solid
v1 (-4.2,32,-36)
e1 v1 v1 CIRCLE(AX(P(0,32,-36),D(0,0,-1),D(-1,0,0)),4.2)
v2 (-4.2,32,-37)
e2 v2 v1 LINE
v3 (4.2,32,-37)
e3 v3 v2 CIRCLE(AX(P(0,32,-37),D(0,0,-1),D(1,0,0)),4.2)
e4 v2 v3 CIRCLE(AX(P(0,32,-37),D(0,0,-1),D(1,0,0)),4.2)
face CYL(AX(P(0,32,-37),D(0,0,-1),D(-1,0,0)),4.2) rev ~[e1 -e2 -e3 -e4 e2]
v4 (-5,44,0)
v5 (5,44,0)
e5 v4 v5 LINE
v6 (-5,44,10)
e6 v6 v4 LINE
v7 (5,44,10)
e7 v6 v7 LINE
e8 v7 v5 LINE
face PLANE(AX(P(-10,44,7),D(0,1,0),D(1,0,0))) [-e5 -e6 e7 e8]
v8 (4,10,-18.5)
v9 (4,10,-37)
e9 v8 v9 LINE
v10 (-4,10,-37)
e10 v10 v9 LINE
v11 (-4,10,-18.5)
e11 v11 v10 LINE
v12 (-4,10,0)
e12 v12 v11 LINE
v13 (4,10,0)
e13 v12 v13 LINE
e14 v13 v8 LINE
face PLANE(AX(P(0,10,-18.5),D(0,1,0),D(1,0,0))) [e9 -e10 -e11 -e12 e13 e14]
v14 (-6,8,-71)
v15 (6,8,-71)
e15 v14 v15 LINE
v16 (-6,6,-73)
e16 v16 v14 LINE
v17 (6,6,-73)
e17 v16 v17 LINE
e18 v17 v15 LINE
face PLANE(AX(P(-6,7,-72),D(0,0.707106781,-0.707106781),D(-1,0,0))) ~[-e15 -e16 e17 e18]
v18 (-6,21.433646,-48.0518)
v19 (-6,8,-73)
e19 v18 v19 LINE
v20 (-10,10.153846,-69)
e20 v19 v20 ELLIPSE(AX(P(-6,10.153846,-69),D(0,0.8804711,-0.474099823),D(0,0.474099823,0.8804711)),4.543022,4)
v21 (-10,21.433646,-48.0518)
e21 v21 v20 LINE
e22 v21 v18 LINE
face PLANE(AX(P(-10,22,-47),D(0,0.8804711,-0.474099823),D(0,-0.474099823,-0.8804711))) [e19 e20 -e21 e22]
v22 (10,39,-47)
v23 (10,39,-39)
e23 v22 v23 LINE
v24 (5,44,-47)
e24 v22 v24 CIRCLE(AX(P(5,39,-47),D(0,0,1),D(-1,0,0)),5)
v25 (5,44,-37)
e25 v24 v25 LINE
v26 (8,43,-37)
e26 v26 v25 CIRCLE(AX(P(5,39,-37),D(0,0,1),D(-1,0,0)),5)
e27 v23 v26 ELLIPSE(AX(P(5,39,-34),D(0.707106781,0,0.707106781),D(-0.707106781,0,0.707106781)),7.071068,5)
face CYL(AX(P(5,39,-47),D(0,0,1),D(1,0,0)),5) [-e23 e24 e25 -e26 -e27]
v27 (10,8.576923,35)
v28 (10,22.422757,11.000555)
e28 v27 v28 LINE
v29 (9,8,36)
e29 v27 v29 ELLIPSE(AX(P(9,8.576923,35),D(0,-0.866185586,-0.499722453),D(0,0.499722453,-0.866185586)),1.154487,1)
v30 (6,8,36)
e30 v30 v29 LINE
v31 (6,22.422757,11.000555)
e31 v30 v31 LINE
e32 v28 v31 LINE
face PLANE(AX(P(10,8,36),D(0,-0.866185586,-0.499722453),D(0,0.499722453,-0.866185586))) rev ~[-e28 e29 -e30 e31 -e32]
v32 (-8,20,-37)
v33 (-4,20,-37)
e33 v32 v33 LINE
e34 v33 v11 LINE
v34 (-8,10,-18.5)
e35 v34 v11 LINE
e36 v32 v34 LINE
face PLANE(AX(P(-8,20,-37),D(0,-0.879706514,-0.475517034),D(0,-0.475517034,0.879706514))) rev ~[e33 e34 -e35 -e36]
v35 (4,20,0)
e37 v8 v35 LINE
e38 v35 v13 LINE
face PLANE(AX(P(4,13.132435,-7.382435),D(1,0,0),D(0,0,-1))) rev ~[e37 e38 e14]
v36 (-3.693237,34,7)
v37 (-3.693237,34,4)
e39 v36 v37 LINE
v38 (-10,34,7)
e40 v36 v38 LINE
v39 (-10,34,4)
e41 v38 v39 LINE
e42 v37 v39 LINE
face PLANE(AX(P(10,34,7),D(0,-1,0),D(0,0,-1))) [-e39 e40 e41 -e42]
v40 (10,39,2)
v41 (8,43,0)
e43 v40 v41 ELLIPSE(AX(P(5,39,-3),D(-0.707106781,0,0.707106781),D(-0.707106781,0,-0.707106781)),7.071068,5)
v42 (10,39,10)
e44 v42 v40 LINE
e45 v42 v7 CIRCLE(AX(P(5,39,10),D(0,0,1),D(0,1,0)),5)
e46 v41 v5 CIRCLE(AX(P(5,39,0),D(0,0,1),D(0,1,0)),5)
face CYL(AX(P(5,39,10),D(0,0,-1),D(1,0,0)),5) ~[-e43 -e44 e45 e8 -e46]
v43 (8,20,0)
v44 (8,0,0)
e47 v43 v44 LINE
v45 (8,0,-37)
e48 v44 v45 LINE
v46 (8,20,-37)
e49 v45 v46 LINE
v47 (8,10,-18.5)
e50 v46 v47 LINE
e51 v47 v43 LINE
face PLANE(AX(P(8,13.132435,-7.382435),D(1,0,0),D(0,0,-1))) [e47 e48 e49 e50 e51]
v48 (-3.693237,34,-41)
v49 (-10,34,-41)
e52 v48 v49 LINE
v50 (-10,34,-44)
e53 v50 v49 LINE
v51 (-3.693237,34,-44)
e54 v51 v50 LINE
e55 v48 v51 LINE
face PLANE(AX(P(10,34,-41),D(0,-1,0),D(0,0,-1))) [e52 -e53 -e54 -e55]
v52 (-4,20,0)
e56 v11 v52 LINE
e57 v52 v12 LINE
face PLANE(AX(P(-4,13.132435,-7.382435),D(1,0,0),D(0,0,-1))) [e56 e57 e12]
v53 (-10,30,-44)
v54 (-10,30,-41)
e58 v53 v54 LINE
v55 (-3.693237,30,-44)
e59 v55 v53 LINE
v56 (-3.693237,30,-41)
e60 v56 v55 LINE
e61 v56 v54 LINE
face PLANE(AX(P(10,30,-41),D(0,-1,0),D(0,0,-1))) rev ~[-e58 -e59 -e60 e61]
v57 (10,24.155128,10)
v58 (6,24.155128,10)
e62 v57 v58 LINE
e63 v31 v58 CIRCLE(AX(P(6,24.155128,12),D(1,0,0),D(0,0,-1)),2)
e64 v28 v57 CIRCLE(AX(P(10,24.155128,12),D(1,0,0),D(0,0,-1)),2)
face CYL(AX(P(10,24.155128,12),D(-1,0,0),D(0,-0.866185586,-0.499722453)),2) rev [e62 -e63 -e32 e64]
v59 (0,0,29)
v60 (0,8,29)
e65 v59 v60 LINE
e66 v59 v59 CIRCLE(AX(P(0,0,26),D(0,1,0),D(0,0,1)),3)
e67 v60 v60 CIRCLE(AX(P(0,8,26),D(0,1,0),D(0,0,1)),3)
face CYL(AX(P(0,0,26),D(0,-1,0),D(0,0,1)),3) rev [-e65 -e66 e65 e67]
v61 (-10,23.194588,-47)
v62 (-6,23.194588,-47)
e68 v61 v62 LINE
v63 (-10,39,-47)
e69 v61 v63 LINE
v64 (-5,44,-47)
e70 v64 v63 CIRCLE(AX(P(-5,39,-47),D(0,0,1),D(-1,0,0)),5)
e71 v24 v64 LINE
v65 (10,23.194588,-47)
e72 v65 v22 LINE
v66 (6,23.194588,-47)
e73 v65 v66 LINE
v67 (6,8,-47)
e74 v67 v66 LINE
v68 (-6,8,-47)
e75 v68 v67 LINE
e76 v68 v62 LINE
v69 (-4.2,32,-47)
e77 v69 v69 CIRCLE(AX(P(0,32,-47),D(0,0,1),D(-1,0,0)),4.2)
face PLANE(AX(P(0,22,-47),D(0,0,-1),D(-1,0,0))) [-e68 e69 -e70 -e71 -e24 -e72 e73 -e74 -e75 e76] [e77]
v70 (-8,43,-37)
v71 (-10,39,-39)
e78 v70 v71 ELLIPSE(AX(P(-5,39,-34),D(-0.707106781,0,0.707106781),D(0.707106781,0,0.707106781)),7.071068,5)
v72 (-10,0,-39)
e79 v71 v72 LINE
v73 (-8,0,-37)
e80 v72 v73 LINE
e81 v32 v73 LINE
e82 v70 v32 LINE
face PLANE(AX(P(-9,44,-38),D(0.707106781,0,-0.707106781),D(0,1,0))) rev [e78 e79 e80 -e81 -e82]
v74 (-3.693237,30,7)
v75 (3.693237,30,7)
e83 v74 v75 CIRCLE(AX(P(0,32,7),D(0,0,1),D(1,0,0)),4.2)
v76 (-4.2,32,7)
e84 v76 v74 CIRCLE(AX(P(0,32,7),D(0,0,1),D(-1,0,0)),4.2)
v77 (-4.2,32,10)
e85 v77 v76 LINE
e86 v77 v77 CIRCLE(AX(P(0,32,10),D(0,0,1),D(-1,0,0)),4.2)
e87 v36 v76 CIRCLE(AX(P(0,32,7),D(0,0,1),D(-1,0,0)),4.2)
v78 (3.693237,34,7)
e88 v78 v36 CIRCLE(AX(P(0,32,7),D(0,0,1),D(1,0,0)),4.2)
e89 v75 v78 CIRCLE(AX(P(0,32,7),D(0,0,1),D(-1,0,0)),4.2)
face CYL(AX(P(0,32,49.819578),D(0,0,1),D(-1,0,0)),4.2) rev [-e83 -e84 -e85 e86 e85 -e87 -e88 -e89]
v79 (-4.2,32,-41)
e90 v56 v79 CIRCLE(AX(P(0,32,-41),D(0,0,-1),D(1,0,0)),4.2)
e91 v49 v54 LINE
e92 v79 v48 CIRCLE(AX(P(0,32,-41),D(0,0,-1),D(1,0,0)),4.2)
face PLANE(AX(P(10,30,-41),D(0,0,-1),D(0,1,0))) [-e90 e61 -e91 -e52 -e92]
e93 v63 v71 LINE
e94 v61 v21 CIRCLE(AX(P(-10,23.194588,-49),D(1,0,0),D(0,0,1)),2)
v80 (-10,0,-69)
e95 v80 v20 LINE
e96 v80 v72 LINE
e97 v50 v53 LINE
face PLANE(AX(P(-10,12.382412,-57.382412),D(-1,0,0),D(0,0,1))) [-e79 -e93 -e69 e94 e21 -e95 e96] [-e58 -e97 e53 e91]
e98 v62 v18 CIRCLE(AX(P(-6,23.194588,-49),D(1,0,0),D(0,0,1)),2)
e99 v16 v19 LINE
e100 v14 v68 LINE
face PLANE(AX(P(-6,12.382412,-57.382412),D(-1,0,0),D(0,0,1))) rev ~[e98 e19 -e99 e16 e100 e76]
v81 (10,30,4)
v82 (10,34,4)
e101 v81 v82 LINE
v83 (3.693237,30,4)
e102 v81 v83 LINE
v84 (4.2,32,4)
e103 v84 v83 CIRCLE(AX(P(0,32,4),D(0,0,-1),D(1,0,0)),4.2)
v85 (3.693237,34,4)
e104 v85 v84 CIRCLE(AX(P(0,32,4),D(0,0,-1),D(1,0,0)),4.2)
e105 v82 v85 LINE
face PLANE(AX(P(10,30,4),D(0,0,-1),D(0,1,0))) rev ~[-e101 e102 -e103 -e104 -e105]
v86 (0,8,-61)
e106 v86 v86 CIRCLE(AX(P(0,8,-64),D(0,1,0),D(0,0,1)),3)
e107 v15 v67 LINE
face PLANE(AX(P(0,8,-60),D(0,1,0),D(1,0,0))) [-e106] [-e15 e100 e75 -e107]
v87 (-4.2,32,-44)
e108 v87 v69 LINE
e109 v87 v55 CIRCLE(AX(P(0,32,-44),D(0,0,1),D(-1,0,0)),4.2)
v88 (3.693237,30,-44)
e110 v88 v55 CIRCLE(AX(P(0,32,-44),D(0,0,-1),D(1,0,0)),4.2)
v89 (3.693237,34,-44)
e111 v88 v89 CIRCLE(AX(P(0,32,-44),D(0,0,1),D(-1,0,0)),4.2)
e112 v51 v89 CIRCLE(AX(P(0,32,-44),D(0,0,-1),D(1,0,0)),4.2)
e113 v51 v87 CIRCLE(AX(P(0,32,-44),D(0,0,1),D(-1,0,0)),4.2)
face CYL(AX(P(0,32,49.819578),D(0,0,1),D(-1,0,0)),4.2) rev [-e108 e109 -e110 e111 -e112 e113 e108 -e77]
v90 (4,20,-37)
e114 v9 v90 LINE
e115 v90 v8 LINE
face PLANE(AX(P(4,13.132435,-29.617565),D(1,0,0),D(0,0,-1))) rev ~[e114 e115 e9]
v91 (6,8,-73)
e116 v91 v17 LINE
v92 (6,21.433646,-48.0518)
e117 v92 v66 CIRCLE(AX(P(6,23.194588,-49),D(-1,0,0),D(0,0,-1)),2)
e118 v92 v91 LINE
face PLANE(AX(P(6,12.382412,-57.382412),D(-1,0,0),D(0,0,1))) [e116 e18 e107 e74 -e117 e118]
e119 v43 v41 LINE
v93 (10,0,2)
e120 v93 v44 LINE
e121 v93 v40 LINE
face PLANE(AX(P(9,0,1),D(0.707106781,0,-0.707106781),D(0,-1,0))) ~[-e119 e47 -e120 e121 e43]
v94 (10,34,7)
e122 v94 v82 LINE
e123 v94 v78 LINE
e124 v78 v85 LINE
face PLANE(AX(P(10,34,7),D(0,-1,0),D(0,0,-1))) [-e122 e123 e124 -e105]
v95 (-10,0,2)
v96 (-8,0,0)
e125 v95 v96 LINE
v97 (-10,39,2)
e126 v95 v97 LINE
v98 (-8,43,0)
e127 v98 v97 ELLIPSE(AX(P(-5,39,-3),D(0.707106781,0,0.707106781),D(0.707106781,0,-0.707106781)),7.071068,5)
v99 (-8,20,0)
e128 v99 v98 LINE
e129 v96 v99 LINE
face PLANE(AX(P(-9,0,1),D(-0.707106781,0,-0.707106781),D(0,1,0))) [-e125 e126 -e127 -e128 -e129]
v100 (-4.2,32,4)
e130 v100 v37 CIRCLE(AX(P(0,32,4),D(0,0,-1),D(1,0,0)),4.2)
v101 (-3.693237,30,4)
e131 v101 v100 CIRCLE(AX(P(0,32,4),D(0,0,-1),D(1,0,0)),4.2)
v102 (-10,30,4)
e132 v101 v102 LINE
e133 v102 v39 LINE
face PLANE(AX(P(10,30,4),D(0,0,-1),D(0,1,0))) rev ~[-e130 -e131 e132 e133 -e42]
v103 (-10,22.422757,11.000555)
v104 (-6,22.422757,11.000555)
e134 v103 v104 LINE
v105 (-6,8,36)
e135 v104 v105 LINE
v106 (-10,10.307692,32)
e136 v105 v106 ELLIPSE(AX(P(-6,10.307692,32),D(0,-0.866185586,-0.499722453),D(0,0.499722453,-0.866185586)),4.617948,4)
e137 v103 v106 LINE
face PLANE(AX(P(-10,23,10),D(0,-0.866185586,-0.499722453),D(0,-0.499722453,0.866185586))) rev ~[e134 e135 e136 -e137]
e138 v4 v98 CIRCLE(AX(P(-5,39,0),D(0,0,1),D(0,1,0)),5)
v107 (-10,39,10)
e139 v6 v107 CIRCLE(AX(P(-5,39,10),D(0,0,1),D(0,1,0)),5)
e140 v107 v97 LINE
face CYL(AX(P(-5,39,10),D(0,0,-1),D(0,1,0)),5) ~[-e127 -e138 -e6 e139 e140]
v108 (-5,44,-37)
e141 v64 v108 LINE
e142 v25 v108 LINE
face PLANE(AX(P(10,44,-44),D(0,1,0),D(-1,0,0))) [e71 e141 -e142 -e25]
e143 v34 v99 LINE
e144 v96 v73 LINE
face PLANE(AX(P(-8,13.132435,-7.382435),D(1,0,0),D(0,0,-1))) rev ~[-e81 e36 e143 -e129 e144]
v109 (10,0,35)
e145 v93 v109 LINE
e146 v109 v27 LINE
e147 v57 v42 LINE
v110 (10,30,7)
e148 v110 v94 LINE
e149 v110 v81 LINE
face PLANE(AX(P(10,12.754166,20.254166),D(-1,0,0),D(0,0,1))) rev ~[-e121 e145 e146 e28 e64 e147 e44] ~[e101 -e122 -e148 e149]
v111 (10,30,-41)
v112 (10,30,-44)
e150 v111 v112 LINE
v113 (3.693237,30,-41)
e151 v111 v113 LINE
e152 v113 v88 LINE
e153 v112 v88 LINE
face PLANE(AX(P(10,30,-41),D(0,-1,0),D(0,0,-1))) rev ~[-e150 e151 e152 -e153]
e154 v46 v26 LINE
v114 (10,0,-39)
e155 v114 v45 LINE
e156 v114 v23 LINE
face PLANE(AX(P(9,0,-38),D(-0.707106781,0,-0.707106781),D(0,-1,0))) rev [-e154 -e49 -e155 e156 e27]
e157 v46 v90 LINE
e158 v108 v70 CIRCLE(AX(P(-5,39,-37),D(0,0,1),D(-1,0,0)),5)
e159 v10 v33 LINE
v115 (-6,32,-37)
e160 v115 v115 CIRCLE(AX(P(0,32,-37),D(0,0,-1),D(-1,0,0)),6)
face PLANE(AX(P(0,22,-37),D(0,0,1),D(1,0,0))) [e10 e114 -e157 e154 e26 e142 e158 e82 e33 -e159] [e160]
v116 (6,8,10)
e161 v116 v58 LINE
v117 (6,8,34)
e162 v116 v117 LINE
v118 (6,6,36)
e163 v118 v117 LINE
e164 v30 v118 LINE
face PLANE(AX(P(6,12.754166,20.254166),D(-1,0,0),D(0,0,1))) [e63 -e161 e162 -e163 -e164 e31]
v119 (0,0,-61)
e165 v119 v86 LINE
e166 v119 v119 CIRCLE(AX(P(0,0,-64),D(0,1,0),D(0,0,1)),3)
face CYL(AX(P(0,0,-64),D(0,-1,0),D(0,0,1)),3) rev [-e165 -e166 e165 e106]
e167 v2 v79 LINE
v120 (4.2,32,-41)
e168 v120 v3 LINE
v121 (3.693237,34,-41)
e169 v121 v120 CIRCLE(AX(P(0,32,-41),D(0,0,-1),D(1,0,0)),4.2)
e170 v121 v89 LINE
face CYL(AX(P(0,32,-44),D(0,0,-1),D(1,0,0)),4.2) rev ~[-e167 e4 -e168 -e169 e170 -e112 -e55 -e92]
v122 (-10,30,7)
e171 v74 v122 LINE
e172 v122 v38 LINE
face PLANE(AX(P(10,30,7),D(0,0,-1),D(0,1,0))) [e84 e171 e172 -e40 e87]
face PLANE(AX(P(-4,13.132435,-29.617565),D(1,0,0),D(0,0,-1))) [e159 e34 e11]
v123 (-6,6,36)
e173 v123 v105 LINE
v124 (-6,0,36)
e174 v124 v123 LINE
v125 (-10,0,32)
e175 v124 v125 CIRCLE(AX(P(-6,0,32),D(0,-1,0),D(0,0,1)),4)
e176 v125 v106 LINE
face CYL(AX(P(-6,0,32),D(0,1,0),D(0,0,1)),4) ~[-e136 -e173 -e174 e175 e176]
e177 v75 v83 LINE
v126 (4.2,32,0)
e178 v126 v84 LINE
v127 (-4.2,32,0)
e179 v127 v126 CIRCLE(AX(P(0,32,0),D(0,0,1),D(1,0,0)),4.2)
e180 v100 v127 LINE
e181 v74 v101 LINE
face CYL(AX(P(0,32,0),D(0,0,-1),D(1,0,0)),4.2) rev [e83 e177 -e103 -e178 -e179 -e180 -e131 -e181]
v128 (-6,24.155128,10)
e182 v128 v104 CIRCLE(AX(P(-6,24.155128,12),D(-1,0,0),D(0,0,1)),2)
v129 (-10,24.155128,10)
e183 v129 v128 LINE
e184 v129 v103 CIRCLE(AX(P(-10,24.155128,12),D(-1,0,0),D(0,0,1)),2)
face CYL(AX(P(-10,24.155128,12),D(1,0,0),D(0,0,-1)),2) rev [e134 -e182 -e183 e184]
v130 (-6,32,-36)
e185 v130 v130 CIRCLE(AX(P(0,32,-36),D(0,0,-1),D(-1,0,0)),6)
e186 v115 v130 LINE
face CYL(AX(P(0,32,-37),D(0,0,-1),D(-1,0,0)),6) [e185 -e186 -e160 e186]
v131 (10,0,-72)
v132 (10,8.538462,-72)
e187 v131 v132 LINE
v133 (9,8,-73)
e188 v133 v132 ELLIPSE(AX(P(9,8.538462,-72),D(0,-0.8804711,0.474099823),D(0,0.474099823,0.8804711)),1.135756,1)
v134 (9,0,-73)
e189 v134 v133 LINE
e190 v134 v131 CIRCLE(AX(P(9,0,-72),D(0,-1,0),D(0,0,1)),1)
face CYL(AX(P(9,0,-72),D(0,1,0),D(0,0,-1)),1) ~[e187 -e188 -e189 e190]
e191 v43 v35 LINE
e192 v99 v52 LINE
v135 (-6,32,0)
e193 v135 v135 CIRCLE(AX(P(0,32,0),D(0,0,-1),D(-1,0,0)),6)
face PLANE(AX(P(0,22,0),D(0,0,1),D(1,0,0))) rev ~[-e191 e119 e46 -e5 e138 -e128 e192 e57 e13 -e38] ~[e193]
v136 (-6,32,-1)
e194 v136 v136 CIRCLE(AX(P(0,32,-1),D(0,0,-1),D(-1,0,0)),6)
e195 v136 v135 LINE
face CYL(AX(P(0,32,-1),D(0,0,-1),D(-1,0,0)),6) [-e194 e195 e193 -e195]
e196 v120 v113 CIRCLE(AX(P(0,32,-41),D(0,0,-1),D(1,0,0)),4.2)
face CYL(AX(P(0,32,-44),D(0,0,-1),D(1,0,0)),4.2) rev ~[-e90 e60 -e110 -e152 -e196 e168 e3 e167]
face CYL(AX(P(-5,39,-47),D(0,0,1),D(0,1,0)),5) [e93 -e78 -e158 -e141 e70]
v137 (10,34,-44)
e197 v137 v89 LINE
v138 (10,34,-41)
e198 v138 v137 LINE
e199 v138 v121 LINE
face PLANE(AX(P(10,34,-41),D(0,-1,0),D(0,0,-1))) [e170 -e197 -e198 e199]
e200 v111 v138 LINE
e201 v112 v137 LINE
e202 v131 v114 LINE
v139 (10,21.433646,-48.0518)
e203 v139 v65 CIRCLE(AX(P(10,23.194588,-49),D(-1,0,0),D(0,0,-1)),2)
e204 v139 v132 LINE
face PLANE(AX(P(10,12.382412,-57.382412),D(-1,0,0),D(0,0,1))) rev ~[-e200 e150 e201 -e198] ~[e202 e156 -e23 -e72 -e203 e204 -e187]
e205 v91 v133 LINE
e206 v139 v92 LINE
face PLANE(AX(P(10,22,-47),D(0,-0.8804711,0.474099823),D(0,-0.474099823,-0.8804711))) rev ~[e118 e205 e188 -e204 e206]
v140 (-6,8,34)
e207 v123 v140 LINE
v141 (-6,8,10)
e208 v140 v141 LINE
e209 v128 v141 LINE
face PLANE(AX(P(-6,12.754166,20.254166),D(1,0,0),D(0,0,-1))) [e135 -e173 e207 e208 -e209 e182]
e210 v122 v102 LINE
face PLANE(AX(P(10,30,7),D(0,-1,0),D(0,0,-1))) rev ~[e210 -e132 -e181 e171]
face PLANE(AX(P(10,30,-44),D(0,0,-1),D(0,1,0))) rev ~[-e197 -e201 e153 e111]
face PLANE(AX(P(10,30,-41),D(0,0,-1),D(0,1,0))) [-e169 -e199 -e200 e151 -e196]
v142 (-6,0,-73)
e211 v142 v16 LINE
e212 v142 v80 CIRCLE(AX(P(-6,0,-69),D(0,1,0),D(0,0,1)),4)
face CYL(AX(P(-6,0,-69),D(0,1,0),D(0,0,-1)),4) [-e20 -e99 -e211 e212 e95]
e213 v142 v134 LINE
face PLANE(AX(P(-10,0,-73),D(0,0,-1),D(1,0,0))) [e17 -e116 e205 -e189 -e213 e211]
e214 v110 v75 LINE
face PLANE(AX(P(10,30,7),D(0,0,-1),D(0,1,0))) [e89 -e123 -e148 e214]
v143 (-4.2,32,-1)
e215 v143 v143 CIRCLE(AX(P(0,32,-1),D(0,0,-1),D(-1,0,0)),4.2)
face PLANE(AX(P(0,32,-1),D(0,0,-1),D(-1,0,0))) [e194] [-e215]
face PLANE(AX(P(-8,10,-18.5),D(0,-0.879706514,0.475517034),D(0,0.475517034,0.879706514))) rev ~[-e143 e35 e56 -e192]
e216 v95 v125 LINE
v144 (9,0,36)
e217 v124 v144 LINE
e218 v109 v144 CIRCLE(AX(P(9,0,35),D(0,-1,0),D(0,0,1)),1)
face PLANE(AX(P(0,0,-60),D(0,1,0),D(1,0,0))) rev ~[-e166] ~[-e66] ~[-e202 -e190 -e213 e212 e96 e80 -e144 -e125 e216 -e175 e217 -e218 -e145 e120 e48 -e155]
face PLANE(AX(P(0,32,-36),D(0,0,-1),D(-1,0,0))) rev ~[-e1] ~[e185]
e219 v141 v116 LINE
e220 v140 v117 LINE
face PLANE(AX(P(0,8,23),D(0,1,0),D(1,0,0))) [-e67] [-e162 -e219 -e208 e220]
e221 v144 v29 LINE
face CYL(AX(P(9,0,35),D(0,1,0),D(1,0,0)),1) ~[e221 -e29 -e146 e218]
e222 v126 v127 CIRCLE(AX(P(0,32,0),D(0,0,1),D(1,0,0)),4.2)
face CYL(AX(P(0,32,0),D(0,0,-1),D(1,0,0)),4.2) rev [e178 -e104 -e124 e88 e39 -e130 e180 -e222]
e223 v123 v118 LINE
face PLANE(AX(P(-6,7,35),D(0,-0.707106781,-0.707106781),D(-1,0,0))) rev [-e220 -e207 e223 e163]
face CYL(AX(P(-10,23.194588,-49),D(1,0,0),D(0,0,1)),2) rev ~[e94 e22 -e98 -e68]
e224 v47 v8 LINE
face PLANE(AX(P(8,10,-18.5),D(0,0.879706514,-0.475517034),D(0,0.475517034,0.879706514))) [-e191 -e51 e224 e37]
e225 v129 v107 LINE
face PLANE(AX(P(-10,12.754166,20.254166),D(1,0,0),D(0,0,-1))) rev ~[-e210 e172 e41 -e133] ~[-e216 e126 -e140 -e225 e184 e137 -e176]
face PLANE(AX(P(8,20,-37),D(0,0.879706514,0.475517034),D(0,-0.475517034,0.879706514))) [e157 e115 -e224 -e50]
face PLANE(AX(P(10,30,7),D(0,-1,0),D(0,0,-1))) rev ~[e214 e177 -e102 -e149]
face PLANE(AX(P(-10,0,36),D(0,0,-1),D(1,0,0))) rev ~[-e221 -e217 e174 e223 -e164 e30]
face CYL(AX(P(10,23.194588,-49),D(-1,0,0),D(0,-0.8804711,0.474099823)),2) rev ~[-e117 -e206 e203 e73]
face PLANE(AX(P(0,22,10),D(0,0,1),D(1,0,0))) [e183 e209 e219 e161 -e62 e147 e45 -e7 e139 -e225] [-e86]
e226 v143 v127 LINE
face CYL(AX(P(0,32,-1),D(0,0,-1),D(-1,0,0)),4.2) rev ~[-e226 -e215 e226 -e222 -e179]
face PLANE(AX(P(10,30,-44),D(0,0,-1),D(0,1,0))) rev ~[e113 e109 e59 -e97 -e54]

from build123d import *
from build123d.topology import SkipClean

# Parameters (mm, degrees)
SKETCH_1_W               = 20
SKETCH_1_H               = 44
SKETCH_1_R               = 4.2
EXTRUDE_1_DEPTH          = 7
SKETCH_2_W               = 20
SKETCH_2_H               = 44
EXTRUDE_2_DEPTH          = 3
SKETCH_3_W               = 20
SKETCH_3_H               = 26
SKETCH_3_R               = 3
EXTRUDE_4_DEPTH          = 8
EXTRUDE_5_DEPTH          = 4
EXTRUDE_6_DEPTH          = 4
CHAMFER_1_SIZE           = 2
FILLET_2_R               = 5
FILLET_3_R               = 1
FILLET_4_R               = 2
SKETCH_6_W               = 16
SKETCH_6_H               = 37
EXTRUDE_7_DEPTH          = 10
EXTRUDE_START            = 7
SKETCH_7_R               = 4.2
EXTRUDE_8_DEPTH          = 7
CHAMFER_2_SIZE           = 2
SKETCH_8_W               = 20
SKETCH_8_H               = 44
EXTRUDE_9_DEPTH          = 3
SKETCH_9_W               = 20
SKETCH_9_H               = 26
SKETCH_9_R               = 3
EXTRUDE_10_DEPTH         = 8
EXTRUDE_11_DEPTH         = 4
EXTRUDE_12_DEPTH         = 4
FILLET_5_R               = 2
FILLET_7_R               = 1
FILLET_8_R               = 5
SKETCH_12_W              = 3
SKETCH_12_H              = 4
CUT_EXTRUDE_1_DEPTH      = 88.549985722
EXTRUDE_13_DEPTH         = 4
EXTRUDE_14_DEPTH         = 4
CUT_EXTRUDE_2_DEPTH      = 86.819578186
CUT_EXTRUDE_2_DEPTH_BACK = 86.819578186
SKETCH_15_R              = 4.2
SKETCH_16_R              = 6
SKETCH_16_R_2            = 4.2
EXTRUDE_15_DEPTH         = 1
EXTRUDE_START_2          = 1
SKETCH_17_R              = 6
SKETCH_17_R_2            = 4.2
EXTRUDE_16_DEPTH         = 1
CHAMFER_3_SIZE           = 2
FILLET_9_R               = 4


with BuildPart() as part:
    # Эскиз1 → Бобышка-Вытянуть1 (new body)
    with BuildSketch(Plane.XY):
        with Locations((0, 22)):
            Rectangle(SKETCH_1_W, SKETCH_1_H)
        with Locations((0, 32)):
            Circle(SKETCH_1_R, mode=Mode.SUBTRACT)
    extrude(amount=EXTRUDE_1_DEPTH)

    # Эскиз2 → Бобышка-Вытянуть2 (add)
    with BuildSketch(Plane.XY.offset(7)):
        with Locations((0, 22)):
            Rectangle(SKETCH_2_W, SKETCH_2_H)
    extrude(amount=EXTRUDE_2_DEPTH)

    # Эскиз3 → Бобышка-Вытянуть4 (add)
    with BuildSketch(Plane(origin=(0, 0, 0), x_dir=(1, 0, 0), z_dir=(0, 1, 0))):
        with Locations((0, -23)):
            Rectangle(SKETCH_3_W, SKETCH_3_H)
        with Locations(Location((0, -26, 0), (0, 0, 270))):
            Circle(SKETCH_3_R, mode=Mode.SUBTRACT)
    extrude(amount=EXTRUDE_4_DEPTH)

    # Эскиз4 → Бобышка-Вытянуть5 (add)
    with BuildSketch(Plane.ZY.offset(10)):
        Polygon((36, 8), (10, 8), (10, 23), align=None)
    extrude(amount=-EXTRUDE_5_DEPTH)

    # Эскиз5 → Бобышка-Вытянуть6 (add)
    with BuildSketch(Plane(origin=(10, 0, 0), x_dir=(0, 0, -1), z_dir=(1, 0, 0))):
        Polygon((-36, 8), (-10, 23), (-10, 8), align=None)
    extrude(amount=-EXTRUDE_6_DEPTH)

    # Фаска1
    chamfer_1_edges = [part.edges().sort_by_distance(p)[0] for p in [
        (10, 22, 0),
        (-10, 22, 0),
    ]]
    chamfer(chamfer_1_edges, length=CHAMFER_1_SIZE)

    # Скругление2
    fillet_2_edges = [part.edges().sort_by_distance(p)[0] for p in [
        (-10, 44, 6),
        (10, 44, 6),
    ]]
    fillet(fillet_2_edges, radius=FILLET_2_R)

    # Скругление3
    fillet_3_edges = [part.edges().sort_by_distance(p)[0] for p in [
        (10, 4, 36),
    ]]
    fillet(fillet_3_edges, radius=FILLET_3_R)

    # Скругление4
    fillet_4_edges = [part.edges().sort_by_distance(p)[0] for p in [
        (-8, 23, 10),
        (8, 23, 10),
    ]]
    fillet(fillet_4_edges, radius=FILLET_4_R)

    # Эскиз6 → Бобышка-Вытянуть7 (add)
    with BuildSketch(Plane(origin=(0, 0, 0), x_dir=(1, 0, 0), z_dir=(0, 1, 0))):
        with Locations((0, 18.5)):
            Rectangle(SKETCH_6_W, SKETCH_6_H)
    extrude(amount=EXTRUDE_7_DEPTH)

    # Эскиз7 → Бобышка-Вытянуть8 (add)
    with BuildSketch(Plane(origin=(0, 0, -37), x_dir=(-1, 0, 0), z_dir=(0, 0, -1)).offset(EXTRUDE_START)):
        Polygon((0, 0), (-10, 0), (-10, 44), (10, 44), (10, 0), align=None)
        with Locations(Location((0, 32, 0), (0, 0, 180))):
            Circle(SKETCH_7_R, mode=Mode.SUBTRACT)
    extrude(amount=-EXTRUDE_8_DEPTH)

    # Фаска2
    chamfer_2_edges = [part.edges().sort_by_distance(p)[0] for p in [
        (10, 22, -37),
        (-10, 22, -37),
    ]]
    chamfer(chamfer_2_edges, length=CHAMFER_2_SIZE)

    # Эскиз8 → Бобышка-Вытянуть9 (add)
    with BuildSketch(Plane(origin=(0, 0, -44), x_dir=(-1, 0, 0), z_dir=(0, 0, -1))):
        with Locations((0, 22)):
            Rectangle(SKETCH_8_W, SKETCH_8_H)
    extrude(amount=EXTRUDE_9_DEPTH)

    # Эскиз9 → Бобышка-Вытянуть10 (add)
    with BuildSketch(Plane(origin=(0, 0, 0), x_dir=(1, 0, 0), z_dir=(0, 1, 0))):
        with Locations((0, 60)):
            Rectangle(SKETCH_9_W, SKETCH_9_H)
        with Locations(Location((0, 64, 0), (0, 0, 270))):
            Circle(SKETCH_9_R, mode=Mode.SUBTRACT)
    extrude(amount=EXTRUDE_10_DEPTH)

    # Эскиз10 → Бобышка-Вытянуть11 (add)
    with BuildSketch(Plane.ZY.offset(10)):
        Polygon((-73, 8), (-47, 8), (-47, 22), align=None)
    extrude(amount=-EXTRUDE_11_DEPTH)

    # Эскиз11 → Бобышка-Вытянуть12 (add)
    with BuildSketch(Plane(origin=(10, 0, 0), x_dir=(0, 0, -1), z_dir=(1, 0, 0))):
        Polygon((47, 8), (47, 22), (73, 8), align=None)
    extrude(amount=-EXTRUDE_12_DEPTH)

    # Скругление5
    fillet_5_edges = [part.edges().sort_by_distance(p)[0] for p in [
        (-8, 22, -47),
        (8, 22, -47),
    ]]
    fillet(fillet_5_edges, radius=FILLET_5_R)

    # Скругление7
    fillet_7_edges = [part.edges().sort_by_distance(p)[0] for p in [
        (10, 4, -73),
    ]]
    fillet(fillet_7_edges, radius=FILLET_7_R)

    # Скругление8
    fillet_8_edges = [part.edges().sort_by_distance(p)[0] for p in [
        (-10, 44, -43),
        (10, 44, -43),
    ]]
    fillet(fillet_8_edges, radius=FILLET_8_R)

    # Эскиз12 → Вырез-Вытянуть1 (cut, through all)
    with BuildSketch(Plane(origin=(10, 0, 0), x_dir=(0, 0, -1), z_dir=(1, 0, 0))):
        with Locations((-5.5, 32)):
            Rectangle(SKETCH_12_W, SKETCH_12_H)
        with Locations((42.5, 32)):
            Rectangle(SKETCH_12_W, SKETCH_12_H)
    extrude(amount=-CUT_EXTRUDE_1_DEPTH, mode=Mode.SUBTRACT)

    # Эскиз13 → Бобышка-Вытянуть13 (add)
    with BuildSketch(Plane(origin=(8, 0, 0), x_dir=(0, 0, -1), z_dir=(1, 0, 0))):
        Polygon((0, 10), (18.5, 10), (0, 20), align=None)
        Polygon((37, 10), (37, 20), (18.5, 10), align=None)
    extrude(amount=-EXTRUDE_13_DEPTH)

    # Эскиз14 → Бобышка-Вытянуть14 (add)
    with BuildSketch(Plane.ZY.offset(8)):
        Polygon((0, 10), (-18.5, 10), (0, 20), align=None)
        Polygon((-37, 10), (-37, 20), (-18.5, 10), align=None)
    extrude(amount=-EXTRUDE_14_DEPTH)

    # Эскиз15 → Вырез-Вытянуть2 (cut, two sides: drawn at the far end of the back side and taken through both)
    with SkipClean():  # the faces are left unmerged after this step: merging them gives an invalid solid
        with BuildSketch(Plane(origin=(0, 0, -37), x_dir=(-1, 0, 0), z_dir=(0, 0, -1)).offset(-CUT_EXTRUDE_2_DEPTH_BACK)):
            with Locations((0, 32)):
                Circle(SKETCH_15_R)
        extrude(amount=CUT_EXTRUDE_2_DEPTH + CUT_EXTRUDE_2_DEPTH_BACK, mode=Mode.SUBTRACT)

    # Эскиз16 → Бобышка-Вытянуть15 (add)
    with SkipClean():  # the faces are left unmerged after this step: merging them gives an invalid solid
        with BuildSketch(Plane(origin=(0, 0, -37), x_dir=(-1, 0, 0), z_dir=(0, 0, -1))):
            with Locations((0, 32)):
                Circle(SKETCH_16_R)
            with Locations((0, 32)):
                Circle(SKETCH_16_R_2, mode=Mode.SUBTRACT)
        extrude(amount=-EXTRUDE_15_DEPTH)

    # Эскиз17 → Бобышка-Вытянуть16 (add)
    with SkipClean():  # the faces are left unmerged after this step: merging them gives an invalid solid
        with BuildSketch(Plane(origin=(0, 0, 0), x_dir=(-1, 0, 0), z_dir=(0, 0, -1)).offset(EXTRUDE_START_2)):
            with Locations((0, 32)):
                Circle(SKETCH_17_R)
            with Locations((0, 32)):
                Circle(SKETCH_17_R_2, mode=Mode.SUBTRACT)
        extrude(amount=-EXTRUDE_16_DEPTH)

    # Фаска3
    chamfer_3_edges = [part.edges().sort_by_distance(p)[0] for p in [
        (0, 8, -73),
        (0, 8, 36),
    ]]
    chamfer(chamfer_3_edges, length=CHAMFER_3_SIZE)

    # Скругление9
    fillet_9_edges = [part.edges().sort_by_distance(p)[0] for p in [
        (-10, 4, 36),
        (-10, 4, -73),
    ]]
    fillet(fillet_9_edges, radius=FILLET_9_R)


solid = part.part
